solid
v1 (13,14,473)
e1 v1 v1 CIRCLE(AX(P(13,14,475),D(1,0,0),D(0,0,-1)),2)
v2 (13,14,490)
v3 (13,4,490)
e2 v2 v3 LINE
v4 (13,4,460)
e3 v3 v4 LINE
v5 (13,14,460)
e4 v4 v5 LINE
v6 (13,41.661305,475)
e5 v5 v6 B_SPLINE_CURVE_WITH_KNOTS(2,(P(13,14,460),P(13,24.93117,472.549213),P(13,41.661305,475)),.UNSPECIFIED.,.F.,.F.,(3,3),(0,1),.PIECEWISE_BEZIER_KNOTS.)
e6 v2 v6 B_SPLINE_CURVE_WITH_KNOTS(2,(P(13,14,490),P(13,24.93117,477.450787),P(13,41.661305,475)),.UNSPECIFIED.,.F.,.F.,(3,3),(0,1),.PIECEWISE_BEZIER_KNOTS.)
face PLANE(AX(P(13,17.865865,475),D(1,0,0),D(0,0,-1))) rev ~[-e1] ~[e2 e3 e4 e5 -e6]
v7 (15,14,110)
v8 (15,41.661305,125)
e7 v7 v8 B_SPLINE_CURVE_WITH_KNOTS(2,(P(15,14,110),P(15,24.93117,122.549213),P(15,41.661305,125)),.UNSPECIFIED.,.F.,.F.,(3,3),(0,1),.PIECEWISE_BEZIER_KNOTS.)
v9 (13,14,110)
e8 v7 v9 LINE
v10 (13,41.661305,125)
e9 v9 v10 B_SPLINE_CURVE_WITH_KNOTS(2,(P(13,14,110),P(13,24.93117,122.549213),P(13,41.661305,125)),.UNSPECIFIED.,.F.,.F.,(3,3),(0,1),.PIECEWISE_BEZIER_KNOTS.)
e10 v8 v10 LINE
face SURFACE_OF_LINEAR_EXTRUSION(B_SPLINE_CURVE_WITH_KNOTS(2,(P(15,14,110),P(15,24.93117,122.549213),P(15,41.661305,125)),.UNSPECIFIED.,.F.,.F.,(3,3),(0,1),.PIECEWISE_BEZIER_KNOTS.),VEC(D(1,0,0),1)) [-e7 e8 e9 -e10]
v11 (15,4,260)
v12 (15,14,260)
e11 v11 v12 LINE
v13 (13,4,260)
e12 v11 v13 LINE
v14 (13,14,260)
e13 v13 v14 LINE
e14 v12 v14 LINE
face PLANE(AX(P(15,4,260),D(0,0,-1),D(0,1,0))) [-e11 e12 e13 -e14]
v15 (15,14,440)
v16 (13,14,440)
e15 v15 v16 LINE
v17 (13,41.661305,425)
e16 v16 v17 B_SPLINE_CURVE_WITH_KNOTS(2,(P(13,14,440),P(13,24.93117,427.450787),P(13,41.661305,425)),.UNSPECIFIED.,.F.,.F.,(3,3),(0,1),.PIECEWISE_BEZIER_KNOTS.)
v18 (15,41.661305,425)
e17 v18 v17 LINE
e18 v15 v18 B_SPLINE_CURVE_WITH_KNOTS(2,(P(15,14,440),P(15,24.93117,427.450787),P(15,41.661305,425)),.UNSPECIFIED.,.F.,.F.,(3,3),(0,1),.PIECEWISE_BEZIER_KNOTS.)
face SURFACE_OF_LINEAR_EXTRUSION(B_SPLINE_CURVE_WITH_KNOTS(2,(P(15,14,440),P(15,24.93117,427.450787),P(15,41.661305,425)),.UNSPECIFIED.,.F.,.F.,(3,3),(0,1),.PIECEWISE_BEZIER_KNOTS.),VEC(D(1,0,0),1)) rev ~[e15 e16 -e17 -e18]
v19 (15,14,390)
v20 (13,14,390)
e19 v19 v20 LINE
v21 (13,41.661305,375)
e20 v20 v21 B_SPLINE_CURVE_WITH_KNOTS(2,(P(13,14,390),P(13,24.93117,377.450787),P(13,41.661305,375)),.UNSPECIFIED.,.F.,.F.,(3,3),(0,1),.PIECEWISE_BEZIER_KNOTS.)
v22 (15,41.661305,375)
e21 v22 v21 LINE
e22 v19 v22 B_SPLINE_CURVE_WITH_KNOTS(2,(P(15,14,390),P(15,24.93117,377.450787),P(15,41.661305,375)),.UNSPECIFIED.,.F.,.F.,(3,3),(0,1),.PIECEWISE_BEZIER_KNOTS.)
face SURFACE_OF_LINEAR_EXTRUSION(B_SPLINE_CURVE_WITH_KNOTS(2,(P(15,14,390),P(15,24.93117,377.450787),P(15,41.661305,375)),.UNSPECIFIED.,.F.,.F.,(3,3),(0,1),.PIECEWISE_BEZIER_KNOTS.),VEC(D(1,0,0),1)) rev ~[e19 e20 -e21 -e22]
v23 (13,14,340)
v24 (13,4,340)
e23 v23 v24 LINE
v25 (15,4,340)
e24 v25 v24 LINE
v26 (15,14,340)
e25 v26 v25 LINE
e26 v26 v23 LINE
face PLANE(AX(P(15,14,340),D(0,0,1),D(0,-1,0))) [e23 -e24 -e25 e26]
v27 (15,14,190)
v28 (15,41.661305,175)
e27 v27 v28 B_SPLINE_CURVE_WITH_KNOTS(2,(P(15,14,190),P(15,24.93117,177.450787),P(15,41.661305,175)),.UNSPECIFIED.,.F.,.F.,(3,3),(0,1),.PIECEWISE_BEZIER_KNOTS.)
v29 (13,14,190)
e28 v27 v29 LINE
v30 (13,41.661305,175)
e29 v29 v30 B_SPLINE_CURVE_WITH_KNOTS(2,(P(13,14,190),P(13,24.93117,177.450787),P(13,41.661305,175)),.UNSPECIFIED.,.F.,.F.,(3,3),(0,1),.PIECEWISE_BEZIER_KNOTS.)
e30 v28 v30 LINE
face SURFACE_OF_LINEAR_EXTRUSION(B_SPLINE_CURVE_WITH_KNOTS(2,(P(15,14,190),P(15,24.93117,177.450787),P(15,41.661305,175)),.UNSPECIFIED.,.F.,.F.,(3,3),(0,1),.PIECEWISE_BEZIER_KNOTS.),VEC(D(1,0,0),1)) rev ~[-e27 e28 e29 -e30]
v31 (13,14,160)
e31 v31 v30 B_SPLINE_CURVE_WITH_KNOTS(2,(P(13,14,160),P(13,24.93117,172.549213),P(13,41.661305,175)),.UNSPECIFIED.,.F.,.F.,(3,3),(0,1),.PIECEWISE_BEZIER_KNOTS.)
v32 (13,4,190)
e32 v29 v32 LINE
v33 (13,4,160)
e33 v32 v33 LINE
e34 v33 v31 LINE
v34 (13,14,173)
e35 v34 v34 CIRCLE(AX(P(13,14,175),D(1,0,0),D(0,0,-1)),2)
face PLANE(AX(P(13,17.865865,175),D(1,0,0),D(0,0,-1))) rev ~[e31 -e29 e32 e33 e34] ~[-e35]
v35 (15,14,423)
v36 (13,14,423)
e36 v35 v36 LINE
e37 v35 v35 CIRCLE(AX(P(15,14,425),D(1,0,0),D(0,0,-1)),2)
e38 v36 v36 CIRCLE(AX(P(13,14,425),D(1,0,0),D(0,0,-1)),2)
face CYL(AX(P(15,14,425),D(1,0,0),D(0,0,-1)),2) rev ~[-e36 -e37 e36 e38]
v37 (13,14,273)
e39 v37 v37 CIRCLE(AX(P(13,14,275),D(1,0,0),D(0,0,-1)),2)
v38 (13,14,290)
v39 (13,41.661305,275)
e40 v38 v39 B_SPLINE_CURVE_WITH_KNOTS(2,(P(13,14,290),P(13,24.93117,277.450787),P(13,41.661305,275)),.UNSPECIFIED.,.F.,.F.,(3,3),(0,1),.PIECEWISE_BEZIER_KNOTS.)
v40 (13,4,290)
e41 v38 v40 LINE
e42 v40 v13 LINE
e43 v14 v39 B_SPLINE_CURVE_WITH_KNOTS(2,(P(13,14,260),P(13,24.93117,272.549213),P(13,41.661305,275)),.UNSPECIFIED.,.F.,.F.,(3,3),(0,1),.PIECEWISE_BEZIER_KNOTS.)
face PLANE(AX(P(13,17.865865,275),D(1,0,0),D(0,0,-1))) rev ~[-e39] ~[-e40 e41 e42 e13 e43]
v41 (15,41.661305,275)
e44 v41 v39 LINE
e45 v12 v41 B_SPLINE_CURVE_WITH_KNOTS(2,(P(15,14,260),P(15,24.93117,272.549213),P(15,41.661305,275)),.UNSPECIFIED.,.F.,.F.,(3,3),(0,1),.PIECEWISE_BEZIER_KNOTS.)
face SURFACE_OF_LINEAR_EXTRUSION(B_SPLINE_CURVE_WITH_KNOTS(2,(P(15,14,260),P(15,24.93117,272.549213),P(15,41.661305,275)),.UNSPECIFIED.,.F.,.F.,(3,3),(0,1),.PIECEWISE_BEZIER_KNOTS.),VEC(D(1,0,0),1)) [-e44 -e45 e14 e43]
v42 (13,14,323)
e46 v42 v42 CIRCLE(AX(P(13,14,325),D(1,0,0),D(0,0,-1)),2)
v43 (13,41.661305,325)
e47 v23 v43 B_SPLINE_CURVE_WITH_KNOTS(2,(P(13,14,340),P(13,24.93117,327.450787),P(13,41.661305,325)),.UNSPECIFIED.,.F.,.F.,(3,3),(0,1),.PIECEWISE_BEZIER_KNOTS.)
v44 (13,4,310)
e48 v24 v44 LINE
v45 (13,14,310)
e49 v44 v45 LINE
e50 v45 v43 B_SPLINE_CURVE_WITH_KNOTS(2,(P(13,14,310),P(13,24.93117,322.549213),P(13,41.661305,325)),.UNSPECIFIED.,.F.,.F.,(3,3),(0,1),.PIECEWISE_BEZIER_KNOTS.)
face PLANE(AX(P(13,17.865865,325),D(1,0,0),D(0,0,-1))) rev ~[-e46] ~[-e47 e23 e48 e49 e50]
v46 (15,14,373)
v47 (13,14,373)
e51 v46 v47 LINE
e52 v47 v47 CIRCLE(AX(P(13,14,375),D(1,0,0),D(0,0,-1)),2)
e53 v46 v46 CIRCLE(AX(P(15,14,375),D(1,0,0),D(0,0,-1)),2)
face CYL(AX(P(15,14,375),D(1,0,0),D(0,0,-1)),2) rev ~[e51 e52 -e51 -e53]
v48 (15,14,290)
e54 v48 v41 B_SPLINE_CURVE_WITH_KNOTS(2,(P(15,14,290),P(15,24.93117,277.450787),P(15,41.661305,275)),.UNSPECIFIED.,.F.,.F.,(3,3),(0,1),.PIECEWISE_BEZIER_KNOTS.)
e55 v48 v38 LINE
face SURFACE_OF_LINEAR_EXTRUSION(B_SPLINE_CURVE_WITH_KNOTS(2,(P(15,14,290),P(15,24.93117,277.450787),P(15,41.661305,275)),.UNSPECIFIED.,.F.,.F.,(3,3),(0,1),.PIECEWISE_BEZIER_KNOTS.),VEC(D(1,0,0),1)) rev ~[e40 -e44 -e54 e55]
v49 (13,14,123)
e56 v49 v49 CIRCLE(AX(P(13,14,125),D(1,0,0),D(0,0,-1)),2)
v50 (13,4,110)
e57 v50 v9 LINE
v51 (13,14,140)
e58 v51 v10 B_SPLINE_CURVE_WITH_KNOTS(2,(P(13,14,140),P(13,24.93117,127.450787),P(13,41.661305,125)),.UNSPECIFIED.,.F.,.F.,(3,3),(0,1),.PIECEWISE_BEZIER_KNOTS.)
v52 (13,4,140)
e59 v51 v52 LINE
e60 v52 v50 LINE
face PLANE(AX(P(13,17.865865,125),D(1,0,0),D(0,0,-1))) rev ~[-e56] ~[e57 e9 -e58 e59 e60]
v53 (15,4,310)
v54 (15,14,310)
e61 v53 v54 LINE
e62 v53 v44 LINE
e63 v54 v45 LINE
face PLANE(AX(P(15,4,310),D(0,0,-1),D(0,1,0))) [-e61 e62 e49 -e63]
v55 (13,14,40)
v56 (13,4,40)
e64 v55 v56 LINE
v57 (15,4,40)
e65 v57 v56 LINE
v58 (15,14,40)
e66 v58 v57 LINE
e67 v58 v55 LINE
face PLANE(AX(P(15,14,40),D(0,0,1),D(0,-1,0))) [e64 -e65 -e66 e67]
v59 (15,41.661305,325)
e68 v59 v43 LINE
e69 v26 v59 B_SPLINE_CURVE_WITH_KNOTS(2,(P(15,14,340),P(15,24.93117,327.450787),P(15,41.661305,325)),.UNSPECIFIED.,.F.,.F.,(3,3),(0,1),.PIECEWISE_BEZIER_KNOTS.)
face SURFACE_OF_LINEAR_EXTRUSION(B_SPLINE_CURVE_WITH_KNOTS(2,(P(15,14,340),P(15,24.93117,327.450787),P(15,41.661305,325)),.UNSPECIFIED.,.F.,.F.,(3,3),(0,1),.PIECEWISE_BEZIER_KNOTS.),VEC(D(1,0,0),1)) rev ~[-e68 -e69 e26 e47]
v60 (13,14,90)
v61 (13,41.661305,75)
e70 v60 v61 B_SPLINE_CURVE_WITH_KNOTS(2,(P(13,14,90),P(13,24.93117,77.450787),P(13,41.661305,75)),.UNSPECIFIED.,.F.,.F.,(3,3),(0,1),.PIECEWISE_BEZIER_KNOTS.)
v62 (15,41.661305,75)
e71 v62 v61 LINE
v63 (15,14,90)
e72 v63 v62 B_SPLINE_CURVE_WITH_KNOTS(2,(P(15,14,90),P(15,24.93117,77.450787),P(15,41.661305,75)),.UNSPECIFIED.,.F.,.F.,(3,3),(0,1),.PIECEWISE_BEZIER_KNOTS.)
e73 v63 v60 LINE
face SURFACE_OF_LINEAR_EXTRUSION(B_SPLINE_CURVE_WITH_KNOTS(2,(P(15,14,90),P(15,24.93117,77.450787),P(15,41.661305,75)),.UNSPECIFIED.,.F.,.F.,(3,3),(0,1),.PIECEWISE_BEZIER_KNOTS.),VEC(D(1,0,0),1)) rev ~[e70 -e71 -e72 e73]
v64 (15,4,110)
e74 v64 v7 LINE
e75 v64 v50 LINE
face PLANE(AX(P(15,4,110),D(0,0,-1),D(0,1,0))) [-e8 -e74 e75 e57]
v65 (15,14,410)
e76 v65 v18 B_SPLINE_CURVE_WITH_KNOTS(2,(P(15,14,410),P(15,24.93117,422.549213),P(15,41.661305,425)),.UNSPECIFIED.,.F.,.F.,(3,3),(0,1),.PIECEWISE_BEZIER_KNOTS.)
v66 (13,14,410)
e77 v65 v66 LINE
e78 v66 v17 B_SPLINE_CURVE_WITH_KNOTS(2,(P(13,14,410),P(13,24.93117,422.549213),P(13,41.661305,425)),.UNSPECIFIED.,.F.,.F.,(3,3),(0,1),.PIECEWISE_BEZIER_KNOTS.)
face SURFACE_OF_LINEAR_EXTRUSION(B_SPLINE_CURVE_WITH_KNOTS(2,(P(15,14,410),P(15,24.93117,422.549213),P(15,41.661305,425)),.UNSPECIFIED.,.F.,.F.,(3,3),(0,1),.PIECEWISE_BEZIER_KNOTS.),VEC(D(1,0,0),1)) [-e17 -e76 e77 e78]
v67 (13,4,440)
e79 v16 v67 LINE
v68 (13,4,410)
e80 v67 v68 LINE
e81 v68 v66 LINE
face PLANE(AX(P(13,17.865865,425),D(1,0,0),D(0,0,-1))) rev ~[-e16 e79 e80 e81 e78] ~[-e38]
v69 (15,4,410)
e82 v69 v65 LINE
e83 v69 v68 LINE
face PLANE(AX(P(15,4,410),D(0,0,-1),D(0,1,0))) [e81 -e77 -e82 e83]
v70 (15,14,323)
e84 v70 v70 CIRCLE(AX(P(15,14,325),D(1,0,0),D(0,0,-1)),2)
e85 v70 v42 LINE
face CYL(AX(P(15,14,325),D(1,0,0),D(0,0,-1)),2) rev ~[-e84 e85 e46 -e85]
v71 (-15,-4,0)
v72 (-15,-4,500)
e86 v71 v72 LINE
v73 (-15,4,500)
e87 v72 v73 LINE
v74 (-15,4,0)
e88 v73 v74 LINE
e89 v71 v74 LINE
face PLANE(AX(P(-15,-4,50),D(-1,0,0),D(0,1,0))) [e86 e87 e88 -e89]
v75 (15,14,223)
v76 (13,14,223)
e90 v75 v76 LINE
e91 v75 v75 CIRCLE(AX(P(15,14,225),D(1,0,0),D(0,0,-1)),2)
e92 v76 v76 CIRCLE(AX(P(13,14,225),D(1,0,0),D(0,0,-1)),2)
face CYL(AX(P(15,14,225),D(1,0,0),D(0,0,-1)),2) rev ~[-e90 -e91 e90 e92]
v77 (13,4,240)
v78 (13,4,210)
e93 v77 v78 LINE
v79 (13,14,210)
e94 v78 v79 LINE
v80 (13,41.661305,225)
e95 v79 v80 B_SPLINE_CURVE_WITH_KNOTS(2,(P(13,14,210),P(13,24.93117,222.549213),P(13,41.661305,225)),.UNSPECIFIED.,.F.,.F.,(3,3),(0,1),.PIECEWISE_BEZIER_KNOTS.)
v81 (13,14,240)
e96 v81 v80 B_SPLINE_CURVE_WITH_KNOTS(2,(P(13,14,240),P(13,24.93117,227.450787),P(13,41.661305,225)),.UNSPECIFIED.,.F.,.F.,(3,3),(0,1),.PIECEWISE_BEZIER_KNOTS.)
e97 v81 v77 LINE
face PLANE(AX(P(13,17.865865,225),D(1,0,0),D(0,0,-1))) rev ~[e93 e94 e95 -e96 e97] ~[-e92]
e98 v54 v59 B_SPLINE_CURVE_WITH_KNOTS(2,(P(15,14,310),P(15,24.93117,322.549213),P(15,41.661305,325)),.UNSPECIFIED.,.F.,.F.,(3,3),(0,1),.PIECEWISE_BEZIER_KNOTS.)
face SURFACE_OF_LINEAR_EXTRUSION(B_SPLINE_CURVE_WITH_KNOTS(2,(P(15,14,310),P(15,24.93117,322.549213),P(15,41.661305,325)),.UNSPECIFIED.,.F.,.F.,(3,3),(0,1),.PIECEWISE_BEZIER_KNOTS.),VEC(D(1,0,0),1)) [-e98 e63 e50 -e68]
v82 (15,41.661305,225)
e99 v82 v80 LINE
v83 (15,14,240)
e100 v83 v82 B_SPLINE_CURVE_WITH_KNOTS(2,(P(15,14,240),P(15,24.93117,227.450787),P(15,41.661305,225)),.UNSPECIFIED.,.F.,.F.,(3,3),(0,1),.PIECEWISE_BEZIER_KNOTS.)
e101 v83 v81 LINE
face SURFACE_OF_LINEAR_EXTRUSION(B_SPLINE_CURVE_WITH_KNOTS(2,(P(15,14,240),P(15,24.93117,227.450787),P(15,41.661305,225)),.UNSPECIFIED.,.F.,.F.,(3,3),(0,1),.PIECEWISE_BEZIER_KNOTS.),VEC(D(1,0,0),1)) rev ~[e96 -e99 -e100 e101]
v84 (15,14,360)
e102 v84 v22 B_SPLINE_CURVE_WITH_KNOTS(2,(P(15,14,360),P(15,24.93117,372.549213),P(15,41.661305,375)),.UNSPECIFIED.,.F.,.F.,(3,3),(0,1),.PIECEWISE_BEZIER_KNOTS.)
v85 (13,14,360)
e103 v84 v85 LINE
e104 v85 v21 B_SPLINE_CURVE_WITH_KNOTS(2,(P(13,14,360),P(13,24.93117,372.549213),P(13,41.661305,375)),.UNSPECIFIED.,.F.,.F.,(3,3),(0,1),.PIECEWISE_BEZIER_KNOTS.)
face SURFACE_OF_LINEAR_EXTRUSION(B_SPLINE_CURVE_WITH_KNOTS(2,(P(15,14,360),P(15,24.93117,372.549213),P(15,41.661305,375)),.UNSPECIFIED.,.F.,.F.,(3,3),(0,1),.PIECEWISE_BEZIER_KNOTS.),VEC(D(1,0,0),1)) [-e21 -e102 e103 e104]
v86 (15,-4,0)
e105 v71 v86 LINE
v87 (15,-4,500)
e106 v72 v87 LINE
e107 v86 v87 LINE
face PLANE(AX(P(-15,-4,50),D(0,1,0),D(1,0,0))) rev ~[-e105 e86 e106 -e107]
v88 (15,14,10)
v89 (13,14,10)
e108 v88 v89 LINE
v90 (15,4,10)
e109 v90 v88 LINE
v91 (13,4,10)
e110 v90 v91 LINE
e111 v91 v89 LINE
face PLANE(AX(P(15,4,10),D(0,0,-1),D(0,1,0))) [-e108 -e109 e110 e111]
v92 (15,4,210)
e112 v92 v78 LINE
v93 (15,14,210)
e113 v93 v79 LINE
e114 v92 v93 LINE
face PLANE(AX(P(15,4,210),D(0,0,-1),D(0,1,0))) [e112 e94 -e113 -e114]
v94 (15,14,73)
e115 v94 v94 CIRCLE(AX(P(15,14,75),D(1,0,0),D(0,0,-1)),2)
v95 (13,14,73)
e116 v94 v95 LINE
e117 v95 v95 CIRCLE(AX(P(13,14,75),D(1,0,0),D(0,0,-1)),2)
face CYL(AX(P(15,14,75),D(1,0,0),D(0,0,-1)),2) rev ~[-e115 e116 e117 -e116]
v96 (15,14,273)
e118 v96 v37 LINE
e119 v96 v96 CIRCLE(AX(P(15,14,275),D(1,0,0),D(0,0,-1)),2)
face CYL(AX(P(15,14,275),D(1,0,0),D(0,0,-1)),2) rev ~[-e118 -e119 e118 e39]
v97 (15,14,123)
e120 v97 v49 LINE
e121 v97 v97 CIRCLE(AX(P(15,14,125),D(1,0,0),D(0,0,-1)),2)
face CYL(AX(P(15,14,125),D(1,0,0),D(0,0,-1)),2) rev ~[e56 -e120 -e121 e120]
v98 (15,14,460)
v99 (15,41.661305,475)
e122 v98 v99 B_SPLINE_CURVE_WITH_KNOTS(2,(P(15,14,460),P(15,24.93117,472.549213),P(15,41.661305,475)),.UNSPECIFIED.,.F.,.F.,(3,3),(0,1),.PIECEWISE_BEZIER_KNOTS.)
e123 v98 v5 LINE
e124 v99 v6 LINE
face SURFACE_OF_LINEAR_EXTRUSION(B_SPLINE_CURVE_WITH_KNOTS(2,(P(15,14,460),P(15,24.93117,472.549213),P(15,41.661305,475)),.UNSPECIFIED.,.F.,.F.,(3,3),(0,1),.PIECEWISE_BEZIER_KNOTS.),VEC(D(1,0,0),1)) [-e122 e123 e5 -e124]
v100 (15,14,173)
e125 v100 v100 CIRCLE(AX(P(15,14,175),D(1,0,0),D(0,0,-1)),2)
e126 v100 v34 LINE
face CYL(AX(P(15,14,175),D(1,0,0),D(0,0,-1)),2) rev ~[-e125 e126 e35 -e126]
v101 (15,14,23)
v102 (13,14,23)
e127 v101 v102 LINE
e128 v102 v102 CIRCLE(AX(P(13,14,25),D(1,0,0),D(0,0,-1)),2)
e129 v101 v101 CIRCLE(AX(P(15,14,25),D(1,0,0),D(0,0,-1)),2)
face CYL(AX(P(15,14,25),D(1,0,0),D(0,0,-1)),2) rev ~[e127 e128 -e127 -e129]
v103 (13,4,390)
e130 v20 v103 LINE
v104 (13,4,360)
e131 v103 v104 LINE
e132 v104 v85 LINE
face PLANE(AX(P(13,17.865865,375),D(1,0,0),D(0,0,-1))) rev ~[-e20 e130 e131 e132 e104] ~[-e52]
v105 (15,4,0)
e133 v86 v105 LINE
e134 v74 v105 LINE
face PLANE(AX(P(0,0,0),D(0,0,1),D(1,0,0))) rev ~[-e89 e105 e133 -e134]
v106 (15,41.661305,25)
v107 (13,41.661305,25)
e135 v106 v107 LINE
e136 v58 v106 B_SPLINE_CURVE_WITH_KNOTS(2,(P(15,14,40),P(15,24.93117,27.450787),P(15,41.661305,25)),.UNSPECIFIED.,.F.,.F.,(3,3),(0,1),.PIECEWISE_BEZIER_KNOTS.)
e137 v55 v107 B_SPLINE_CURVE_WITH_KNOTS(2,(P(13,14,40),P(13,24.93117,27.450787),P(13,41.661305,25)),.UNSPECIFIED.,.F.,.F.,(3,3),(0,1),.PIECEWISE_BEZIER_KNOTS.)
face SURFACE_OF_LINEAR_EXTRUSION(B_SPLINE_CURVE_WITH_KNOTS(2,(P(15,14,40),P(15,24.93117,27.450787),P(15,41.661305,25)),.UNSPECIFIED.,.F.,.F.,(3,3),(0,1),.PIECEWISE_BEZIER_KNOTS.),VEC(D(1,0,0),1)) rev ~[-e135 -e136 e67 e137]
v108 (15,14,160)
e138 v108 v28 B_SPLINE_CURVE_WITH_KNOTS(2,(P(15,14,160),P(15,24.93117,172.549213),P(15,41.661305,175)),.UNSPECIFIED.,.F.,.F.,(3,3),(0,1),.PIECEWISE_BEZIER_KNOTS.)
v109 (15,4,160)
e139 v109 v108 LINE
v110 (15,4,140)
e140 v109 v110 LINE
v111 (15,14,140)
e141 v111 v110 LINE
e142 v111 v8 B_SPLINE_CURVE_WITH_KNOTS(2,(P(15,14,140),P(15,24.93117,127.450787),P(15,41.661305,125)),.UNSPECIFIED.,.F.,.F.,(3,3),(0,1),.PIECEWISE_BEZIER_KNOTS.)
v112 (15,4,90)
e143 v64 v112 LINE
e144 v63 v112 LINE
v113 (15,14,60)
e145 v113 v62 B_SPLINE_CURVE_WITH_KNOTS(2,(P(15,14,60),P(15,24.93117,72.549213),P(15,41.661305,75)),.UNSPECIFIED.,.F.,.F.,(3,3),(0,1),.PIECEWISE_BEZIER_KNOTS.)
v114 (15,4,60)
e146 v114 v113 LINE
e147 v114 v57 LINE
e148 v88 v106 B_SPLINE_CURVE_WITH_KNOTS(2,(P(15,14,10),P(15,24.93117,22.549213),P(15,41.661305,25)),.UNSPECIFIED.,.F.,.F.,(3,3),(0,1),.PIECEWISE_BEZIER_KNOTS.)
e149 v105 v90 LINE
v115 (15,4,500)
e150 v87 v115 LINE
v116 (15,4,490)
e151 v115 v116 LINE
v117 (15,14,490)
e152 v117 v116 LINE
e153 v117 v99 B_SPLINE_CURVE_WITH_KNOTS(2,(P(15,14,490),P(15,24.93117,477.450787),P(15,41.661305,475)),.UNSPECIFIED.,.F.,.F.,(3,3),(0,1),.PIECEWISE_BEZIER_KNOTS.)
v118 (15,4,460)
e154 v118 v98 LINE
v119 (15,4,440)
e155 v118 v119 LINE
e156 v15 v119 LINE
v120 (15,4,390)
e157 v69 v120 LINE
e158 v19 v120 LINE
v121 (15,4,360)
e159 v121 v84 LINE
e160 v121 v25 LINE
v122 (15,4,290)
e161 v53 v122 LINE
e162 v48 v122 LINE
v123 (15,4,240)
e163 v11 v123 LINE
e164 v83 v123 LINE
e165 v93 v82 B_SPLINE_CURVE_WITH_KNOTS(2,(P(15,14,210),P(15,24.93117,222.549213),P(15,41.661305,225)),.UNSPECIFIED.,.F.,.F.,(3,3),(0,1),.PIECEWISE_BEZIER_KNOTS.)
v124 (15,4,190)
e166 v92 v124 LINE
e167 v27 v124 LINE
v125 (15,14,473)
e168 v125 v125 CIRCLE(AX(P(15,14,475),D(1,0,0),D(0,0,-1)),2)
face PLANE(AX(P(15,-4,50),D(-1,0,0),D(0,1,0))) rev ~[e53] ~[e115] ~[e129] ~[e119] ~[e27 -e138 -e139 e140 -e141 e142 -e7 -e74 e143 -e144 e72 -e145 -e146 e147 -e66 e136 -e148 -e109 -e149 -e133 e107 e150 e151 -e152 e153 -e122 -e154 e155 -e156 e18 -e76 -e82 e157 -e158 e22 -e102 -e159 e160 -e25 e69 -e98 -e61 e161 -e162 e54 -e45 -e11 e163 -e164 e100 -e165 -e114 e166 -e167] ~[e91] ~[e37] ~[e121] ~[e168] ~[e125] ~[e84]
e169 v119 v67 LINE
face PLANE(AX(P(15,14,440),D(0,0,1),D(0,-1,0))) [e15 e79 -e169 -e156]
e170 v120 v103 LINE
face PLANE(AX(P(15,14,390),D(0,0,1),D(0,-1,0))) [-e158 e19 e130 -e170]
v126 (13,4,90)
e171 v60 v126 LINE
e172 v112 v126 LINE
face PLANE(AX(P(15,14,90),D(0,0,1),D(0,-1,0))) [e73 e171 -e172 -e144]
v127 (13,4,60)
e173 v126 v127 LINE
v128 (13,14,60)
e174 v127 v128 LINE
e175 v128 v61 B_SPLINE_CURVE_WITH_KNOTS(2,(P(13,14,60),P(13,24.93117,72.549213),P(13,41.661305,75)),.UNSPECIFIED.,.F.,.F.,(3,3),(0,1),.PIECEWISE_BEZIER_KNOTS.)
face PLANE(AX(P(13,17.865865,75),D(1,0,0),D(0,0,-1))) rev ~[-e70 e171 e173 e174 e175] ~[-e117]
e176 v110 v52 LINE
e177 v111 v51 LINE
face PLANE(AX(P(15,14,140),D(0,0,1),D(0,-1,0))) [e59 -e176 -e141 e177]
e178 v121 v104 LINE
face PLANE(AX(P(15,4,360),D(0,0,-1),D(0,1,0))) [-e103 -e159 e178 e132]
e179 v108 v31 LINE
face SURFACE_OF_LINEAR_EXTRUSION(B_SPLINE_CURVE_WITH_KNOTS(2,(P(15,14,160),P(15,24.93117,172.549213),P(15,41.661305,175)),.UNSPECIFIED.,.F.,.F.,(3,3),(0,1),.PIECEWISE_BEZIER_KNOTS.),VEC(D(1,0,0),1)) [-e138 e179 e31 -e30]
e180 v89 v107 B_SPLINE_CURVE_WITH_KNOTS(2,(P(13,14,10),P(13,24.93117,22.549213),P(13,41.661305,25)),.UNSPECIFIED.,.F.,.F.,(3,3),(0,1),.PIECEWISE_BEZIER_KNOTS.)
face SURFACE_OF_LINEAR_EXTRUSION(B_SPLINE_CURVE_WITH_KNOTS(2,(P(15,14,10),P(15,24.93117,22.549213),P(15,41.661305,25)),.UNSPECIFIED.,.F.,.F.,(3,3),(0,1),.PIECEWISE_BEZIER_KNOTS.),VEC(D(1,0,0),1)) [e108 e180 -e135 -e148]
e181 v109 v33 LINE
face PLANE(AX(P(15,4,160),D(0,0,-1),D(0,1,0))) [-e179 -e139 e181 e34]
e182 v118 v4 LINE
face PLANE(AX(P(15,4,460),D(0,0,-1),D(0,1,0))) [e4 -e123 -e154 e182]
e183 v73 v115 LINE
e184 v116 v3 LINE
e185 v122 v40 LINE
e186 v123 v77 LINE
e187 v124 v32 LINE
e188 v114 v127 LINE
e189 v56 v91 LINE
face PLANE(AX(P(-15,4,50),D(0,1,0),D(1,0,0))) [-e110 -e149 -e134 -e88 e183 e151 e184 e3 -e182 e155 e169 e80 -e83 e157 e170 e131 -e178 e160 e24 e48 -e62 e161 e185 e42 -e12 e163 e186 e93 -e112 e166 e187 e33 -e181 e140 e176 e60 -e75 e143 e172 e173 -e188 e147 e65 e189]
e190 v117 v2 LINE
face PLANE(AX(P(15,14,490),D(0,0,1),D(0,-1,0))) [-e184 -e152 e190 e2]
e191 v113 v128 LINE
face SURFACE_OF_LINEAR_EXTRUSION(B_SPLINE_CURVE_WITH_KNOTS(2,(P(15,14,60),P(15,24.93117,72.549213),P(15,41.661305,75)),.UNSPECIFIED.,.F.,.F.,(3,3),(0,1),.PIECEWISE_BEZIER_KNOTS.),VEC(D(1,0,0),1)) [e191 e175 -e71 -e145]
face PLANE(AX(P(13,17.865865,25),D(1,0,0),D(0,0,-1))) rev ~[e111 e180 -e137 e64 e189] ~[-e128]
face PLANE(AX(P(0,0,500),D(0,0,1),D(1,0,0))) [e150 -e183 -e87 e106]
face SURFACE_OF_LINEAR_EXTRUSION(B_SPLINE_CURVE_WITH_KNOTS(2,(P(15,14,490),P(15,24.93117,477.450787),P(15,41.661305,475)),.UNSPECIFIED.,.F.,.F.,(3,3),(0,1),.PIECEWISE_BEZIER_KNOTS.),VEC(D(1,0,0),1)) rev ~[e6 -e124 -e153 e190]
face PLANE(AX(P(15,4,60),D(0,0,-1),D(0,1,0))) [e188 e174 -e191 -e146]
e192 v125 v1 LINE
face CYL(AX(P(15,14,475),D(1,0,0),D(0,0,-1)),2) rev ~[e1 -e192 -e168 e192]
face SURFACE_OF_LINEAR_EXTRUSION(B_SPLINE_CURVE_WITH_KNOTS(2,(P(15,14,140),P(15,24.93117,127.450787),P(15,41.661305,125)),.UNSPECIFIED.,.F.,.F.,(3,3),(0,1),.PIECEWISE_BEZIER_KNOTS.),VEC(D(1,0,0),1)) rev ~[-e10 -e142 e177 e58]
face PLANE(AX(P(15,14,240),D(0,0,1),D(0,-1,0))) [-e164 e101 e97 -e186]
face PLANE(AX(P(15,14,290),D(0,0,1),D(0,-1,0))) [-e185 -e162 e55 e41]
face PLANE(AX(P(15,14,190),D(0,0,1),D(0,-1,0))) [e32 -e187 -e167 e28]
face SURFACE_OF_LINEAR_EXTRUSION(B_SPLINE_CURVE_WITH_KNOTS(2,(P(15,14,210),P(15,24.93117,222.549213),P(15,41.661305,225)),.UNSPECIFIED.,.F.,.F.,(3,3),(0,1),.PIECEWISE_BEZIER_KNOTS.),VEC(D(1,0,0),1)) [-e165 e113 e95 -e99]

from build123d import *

# Parameters (mm, degrees)
SKETCH1_W           = 30
SKETCH1_H           = 8
BOSS_EXTRUDE1_DEPTH = 50
SKETCH2_R           = 2
BOSS_EXTRUDE2_DEPTH = 2
LPATTERN1_COUNT     = 10
LPATTERN1_PITCH     = 50


with BuildPart() as part:
    # Sketch1 → Boss-Extrude1 (new body)
    with BuildSketch(Plane.XY):
        Rectangle(SKETCH1_W, SKETCH1_H)
    boss_extrude1 = extrude(amount=BOSS_EXTRUDE1_DEPTH)

    # Sketch2 → Boss-Extrude2 (add)
    with BuildSketch(Plane(origin=(15, 0, 0), x_dir=(0, 0, -1), z_dir=(1, 0, 0))):
        with BuildLine():
            Line((-40, 14), (-40, 4))
            Line((-40, 4), (-10, 4))
            Line((-10, 4), (-10, 14))
            add(Edge.make_bspline(
                [(-10, 14), (-22.549212794, 24.931170197), (-25, 41.661304797)],
                knots=[0, 0, 0, 1, 1, 1], degree=2))
            add(Edge.make_bspline(
                [(-40, 14), (-27.450787206, 24.931170197), (-25, 41.661304797)],
                knots=[0, 0, 0, 1, 1, 1], degree=2))
        make_face()
        with Locations((-25, 14)):
            Circle(SKETCH2_R, mode=Mode.SUBTRACT)
    boss_extrude2 = extrude(amount=-BOSS_EXTRUDE2_DEPTH)

    # LPattern1: Boss-Extrude1, Boss-Extrude2 ×10
    with Locations(*[(0, 0, i * LPATTERN1_PITCH) for i in range(1, LPATTERN1_COUNT)]):
        add(boss_extrude1)
        add(boss_extrude2)


solid = part.part
